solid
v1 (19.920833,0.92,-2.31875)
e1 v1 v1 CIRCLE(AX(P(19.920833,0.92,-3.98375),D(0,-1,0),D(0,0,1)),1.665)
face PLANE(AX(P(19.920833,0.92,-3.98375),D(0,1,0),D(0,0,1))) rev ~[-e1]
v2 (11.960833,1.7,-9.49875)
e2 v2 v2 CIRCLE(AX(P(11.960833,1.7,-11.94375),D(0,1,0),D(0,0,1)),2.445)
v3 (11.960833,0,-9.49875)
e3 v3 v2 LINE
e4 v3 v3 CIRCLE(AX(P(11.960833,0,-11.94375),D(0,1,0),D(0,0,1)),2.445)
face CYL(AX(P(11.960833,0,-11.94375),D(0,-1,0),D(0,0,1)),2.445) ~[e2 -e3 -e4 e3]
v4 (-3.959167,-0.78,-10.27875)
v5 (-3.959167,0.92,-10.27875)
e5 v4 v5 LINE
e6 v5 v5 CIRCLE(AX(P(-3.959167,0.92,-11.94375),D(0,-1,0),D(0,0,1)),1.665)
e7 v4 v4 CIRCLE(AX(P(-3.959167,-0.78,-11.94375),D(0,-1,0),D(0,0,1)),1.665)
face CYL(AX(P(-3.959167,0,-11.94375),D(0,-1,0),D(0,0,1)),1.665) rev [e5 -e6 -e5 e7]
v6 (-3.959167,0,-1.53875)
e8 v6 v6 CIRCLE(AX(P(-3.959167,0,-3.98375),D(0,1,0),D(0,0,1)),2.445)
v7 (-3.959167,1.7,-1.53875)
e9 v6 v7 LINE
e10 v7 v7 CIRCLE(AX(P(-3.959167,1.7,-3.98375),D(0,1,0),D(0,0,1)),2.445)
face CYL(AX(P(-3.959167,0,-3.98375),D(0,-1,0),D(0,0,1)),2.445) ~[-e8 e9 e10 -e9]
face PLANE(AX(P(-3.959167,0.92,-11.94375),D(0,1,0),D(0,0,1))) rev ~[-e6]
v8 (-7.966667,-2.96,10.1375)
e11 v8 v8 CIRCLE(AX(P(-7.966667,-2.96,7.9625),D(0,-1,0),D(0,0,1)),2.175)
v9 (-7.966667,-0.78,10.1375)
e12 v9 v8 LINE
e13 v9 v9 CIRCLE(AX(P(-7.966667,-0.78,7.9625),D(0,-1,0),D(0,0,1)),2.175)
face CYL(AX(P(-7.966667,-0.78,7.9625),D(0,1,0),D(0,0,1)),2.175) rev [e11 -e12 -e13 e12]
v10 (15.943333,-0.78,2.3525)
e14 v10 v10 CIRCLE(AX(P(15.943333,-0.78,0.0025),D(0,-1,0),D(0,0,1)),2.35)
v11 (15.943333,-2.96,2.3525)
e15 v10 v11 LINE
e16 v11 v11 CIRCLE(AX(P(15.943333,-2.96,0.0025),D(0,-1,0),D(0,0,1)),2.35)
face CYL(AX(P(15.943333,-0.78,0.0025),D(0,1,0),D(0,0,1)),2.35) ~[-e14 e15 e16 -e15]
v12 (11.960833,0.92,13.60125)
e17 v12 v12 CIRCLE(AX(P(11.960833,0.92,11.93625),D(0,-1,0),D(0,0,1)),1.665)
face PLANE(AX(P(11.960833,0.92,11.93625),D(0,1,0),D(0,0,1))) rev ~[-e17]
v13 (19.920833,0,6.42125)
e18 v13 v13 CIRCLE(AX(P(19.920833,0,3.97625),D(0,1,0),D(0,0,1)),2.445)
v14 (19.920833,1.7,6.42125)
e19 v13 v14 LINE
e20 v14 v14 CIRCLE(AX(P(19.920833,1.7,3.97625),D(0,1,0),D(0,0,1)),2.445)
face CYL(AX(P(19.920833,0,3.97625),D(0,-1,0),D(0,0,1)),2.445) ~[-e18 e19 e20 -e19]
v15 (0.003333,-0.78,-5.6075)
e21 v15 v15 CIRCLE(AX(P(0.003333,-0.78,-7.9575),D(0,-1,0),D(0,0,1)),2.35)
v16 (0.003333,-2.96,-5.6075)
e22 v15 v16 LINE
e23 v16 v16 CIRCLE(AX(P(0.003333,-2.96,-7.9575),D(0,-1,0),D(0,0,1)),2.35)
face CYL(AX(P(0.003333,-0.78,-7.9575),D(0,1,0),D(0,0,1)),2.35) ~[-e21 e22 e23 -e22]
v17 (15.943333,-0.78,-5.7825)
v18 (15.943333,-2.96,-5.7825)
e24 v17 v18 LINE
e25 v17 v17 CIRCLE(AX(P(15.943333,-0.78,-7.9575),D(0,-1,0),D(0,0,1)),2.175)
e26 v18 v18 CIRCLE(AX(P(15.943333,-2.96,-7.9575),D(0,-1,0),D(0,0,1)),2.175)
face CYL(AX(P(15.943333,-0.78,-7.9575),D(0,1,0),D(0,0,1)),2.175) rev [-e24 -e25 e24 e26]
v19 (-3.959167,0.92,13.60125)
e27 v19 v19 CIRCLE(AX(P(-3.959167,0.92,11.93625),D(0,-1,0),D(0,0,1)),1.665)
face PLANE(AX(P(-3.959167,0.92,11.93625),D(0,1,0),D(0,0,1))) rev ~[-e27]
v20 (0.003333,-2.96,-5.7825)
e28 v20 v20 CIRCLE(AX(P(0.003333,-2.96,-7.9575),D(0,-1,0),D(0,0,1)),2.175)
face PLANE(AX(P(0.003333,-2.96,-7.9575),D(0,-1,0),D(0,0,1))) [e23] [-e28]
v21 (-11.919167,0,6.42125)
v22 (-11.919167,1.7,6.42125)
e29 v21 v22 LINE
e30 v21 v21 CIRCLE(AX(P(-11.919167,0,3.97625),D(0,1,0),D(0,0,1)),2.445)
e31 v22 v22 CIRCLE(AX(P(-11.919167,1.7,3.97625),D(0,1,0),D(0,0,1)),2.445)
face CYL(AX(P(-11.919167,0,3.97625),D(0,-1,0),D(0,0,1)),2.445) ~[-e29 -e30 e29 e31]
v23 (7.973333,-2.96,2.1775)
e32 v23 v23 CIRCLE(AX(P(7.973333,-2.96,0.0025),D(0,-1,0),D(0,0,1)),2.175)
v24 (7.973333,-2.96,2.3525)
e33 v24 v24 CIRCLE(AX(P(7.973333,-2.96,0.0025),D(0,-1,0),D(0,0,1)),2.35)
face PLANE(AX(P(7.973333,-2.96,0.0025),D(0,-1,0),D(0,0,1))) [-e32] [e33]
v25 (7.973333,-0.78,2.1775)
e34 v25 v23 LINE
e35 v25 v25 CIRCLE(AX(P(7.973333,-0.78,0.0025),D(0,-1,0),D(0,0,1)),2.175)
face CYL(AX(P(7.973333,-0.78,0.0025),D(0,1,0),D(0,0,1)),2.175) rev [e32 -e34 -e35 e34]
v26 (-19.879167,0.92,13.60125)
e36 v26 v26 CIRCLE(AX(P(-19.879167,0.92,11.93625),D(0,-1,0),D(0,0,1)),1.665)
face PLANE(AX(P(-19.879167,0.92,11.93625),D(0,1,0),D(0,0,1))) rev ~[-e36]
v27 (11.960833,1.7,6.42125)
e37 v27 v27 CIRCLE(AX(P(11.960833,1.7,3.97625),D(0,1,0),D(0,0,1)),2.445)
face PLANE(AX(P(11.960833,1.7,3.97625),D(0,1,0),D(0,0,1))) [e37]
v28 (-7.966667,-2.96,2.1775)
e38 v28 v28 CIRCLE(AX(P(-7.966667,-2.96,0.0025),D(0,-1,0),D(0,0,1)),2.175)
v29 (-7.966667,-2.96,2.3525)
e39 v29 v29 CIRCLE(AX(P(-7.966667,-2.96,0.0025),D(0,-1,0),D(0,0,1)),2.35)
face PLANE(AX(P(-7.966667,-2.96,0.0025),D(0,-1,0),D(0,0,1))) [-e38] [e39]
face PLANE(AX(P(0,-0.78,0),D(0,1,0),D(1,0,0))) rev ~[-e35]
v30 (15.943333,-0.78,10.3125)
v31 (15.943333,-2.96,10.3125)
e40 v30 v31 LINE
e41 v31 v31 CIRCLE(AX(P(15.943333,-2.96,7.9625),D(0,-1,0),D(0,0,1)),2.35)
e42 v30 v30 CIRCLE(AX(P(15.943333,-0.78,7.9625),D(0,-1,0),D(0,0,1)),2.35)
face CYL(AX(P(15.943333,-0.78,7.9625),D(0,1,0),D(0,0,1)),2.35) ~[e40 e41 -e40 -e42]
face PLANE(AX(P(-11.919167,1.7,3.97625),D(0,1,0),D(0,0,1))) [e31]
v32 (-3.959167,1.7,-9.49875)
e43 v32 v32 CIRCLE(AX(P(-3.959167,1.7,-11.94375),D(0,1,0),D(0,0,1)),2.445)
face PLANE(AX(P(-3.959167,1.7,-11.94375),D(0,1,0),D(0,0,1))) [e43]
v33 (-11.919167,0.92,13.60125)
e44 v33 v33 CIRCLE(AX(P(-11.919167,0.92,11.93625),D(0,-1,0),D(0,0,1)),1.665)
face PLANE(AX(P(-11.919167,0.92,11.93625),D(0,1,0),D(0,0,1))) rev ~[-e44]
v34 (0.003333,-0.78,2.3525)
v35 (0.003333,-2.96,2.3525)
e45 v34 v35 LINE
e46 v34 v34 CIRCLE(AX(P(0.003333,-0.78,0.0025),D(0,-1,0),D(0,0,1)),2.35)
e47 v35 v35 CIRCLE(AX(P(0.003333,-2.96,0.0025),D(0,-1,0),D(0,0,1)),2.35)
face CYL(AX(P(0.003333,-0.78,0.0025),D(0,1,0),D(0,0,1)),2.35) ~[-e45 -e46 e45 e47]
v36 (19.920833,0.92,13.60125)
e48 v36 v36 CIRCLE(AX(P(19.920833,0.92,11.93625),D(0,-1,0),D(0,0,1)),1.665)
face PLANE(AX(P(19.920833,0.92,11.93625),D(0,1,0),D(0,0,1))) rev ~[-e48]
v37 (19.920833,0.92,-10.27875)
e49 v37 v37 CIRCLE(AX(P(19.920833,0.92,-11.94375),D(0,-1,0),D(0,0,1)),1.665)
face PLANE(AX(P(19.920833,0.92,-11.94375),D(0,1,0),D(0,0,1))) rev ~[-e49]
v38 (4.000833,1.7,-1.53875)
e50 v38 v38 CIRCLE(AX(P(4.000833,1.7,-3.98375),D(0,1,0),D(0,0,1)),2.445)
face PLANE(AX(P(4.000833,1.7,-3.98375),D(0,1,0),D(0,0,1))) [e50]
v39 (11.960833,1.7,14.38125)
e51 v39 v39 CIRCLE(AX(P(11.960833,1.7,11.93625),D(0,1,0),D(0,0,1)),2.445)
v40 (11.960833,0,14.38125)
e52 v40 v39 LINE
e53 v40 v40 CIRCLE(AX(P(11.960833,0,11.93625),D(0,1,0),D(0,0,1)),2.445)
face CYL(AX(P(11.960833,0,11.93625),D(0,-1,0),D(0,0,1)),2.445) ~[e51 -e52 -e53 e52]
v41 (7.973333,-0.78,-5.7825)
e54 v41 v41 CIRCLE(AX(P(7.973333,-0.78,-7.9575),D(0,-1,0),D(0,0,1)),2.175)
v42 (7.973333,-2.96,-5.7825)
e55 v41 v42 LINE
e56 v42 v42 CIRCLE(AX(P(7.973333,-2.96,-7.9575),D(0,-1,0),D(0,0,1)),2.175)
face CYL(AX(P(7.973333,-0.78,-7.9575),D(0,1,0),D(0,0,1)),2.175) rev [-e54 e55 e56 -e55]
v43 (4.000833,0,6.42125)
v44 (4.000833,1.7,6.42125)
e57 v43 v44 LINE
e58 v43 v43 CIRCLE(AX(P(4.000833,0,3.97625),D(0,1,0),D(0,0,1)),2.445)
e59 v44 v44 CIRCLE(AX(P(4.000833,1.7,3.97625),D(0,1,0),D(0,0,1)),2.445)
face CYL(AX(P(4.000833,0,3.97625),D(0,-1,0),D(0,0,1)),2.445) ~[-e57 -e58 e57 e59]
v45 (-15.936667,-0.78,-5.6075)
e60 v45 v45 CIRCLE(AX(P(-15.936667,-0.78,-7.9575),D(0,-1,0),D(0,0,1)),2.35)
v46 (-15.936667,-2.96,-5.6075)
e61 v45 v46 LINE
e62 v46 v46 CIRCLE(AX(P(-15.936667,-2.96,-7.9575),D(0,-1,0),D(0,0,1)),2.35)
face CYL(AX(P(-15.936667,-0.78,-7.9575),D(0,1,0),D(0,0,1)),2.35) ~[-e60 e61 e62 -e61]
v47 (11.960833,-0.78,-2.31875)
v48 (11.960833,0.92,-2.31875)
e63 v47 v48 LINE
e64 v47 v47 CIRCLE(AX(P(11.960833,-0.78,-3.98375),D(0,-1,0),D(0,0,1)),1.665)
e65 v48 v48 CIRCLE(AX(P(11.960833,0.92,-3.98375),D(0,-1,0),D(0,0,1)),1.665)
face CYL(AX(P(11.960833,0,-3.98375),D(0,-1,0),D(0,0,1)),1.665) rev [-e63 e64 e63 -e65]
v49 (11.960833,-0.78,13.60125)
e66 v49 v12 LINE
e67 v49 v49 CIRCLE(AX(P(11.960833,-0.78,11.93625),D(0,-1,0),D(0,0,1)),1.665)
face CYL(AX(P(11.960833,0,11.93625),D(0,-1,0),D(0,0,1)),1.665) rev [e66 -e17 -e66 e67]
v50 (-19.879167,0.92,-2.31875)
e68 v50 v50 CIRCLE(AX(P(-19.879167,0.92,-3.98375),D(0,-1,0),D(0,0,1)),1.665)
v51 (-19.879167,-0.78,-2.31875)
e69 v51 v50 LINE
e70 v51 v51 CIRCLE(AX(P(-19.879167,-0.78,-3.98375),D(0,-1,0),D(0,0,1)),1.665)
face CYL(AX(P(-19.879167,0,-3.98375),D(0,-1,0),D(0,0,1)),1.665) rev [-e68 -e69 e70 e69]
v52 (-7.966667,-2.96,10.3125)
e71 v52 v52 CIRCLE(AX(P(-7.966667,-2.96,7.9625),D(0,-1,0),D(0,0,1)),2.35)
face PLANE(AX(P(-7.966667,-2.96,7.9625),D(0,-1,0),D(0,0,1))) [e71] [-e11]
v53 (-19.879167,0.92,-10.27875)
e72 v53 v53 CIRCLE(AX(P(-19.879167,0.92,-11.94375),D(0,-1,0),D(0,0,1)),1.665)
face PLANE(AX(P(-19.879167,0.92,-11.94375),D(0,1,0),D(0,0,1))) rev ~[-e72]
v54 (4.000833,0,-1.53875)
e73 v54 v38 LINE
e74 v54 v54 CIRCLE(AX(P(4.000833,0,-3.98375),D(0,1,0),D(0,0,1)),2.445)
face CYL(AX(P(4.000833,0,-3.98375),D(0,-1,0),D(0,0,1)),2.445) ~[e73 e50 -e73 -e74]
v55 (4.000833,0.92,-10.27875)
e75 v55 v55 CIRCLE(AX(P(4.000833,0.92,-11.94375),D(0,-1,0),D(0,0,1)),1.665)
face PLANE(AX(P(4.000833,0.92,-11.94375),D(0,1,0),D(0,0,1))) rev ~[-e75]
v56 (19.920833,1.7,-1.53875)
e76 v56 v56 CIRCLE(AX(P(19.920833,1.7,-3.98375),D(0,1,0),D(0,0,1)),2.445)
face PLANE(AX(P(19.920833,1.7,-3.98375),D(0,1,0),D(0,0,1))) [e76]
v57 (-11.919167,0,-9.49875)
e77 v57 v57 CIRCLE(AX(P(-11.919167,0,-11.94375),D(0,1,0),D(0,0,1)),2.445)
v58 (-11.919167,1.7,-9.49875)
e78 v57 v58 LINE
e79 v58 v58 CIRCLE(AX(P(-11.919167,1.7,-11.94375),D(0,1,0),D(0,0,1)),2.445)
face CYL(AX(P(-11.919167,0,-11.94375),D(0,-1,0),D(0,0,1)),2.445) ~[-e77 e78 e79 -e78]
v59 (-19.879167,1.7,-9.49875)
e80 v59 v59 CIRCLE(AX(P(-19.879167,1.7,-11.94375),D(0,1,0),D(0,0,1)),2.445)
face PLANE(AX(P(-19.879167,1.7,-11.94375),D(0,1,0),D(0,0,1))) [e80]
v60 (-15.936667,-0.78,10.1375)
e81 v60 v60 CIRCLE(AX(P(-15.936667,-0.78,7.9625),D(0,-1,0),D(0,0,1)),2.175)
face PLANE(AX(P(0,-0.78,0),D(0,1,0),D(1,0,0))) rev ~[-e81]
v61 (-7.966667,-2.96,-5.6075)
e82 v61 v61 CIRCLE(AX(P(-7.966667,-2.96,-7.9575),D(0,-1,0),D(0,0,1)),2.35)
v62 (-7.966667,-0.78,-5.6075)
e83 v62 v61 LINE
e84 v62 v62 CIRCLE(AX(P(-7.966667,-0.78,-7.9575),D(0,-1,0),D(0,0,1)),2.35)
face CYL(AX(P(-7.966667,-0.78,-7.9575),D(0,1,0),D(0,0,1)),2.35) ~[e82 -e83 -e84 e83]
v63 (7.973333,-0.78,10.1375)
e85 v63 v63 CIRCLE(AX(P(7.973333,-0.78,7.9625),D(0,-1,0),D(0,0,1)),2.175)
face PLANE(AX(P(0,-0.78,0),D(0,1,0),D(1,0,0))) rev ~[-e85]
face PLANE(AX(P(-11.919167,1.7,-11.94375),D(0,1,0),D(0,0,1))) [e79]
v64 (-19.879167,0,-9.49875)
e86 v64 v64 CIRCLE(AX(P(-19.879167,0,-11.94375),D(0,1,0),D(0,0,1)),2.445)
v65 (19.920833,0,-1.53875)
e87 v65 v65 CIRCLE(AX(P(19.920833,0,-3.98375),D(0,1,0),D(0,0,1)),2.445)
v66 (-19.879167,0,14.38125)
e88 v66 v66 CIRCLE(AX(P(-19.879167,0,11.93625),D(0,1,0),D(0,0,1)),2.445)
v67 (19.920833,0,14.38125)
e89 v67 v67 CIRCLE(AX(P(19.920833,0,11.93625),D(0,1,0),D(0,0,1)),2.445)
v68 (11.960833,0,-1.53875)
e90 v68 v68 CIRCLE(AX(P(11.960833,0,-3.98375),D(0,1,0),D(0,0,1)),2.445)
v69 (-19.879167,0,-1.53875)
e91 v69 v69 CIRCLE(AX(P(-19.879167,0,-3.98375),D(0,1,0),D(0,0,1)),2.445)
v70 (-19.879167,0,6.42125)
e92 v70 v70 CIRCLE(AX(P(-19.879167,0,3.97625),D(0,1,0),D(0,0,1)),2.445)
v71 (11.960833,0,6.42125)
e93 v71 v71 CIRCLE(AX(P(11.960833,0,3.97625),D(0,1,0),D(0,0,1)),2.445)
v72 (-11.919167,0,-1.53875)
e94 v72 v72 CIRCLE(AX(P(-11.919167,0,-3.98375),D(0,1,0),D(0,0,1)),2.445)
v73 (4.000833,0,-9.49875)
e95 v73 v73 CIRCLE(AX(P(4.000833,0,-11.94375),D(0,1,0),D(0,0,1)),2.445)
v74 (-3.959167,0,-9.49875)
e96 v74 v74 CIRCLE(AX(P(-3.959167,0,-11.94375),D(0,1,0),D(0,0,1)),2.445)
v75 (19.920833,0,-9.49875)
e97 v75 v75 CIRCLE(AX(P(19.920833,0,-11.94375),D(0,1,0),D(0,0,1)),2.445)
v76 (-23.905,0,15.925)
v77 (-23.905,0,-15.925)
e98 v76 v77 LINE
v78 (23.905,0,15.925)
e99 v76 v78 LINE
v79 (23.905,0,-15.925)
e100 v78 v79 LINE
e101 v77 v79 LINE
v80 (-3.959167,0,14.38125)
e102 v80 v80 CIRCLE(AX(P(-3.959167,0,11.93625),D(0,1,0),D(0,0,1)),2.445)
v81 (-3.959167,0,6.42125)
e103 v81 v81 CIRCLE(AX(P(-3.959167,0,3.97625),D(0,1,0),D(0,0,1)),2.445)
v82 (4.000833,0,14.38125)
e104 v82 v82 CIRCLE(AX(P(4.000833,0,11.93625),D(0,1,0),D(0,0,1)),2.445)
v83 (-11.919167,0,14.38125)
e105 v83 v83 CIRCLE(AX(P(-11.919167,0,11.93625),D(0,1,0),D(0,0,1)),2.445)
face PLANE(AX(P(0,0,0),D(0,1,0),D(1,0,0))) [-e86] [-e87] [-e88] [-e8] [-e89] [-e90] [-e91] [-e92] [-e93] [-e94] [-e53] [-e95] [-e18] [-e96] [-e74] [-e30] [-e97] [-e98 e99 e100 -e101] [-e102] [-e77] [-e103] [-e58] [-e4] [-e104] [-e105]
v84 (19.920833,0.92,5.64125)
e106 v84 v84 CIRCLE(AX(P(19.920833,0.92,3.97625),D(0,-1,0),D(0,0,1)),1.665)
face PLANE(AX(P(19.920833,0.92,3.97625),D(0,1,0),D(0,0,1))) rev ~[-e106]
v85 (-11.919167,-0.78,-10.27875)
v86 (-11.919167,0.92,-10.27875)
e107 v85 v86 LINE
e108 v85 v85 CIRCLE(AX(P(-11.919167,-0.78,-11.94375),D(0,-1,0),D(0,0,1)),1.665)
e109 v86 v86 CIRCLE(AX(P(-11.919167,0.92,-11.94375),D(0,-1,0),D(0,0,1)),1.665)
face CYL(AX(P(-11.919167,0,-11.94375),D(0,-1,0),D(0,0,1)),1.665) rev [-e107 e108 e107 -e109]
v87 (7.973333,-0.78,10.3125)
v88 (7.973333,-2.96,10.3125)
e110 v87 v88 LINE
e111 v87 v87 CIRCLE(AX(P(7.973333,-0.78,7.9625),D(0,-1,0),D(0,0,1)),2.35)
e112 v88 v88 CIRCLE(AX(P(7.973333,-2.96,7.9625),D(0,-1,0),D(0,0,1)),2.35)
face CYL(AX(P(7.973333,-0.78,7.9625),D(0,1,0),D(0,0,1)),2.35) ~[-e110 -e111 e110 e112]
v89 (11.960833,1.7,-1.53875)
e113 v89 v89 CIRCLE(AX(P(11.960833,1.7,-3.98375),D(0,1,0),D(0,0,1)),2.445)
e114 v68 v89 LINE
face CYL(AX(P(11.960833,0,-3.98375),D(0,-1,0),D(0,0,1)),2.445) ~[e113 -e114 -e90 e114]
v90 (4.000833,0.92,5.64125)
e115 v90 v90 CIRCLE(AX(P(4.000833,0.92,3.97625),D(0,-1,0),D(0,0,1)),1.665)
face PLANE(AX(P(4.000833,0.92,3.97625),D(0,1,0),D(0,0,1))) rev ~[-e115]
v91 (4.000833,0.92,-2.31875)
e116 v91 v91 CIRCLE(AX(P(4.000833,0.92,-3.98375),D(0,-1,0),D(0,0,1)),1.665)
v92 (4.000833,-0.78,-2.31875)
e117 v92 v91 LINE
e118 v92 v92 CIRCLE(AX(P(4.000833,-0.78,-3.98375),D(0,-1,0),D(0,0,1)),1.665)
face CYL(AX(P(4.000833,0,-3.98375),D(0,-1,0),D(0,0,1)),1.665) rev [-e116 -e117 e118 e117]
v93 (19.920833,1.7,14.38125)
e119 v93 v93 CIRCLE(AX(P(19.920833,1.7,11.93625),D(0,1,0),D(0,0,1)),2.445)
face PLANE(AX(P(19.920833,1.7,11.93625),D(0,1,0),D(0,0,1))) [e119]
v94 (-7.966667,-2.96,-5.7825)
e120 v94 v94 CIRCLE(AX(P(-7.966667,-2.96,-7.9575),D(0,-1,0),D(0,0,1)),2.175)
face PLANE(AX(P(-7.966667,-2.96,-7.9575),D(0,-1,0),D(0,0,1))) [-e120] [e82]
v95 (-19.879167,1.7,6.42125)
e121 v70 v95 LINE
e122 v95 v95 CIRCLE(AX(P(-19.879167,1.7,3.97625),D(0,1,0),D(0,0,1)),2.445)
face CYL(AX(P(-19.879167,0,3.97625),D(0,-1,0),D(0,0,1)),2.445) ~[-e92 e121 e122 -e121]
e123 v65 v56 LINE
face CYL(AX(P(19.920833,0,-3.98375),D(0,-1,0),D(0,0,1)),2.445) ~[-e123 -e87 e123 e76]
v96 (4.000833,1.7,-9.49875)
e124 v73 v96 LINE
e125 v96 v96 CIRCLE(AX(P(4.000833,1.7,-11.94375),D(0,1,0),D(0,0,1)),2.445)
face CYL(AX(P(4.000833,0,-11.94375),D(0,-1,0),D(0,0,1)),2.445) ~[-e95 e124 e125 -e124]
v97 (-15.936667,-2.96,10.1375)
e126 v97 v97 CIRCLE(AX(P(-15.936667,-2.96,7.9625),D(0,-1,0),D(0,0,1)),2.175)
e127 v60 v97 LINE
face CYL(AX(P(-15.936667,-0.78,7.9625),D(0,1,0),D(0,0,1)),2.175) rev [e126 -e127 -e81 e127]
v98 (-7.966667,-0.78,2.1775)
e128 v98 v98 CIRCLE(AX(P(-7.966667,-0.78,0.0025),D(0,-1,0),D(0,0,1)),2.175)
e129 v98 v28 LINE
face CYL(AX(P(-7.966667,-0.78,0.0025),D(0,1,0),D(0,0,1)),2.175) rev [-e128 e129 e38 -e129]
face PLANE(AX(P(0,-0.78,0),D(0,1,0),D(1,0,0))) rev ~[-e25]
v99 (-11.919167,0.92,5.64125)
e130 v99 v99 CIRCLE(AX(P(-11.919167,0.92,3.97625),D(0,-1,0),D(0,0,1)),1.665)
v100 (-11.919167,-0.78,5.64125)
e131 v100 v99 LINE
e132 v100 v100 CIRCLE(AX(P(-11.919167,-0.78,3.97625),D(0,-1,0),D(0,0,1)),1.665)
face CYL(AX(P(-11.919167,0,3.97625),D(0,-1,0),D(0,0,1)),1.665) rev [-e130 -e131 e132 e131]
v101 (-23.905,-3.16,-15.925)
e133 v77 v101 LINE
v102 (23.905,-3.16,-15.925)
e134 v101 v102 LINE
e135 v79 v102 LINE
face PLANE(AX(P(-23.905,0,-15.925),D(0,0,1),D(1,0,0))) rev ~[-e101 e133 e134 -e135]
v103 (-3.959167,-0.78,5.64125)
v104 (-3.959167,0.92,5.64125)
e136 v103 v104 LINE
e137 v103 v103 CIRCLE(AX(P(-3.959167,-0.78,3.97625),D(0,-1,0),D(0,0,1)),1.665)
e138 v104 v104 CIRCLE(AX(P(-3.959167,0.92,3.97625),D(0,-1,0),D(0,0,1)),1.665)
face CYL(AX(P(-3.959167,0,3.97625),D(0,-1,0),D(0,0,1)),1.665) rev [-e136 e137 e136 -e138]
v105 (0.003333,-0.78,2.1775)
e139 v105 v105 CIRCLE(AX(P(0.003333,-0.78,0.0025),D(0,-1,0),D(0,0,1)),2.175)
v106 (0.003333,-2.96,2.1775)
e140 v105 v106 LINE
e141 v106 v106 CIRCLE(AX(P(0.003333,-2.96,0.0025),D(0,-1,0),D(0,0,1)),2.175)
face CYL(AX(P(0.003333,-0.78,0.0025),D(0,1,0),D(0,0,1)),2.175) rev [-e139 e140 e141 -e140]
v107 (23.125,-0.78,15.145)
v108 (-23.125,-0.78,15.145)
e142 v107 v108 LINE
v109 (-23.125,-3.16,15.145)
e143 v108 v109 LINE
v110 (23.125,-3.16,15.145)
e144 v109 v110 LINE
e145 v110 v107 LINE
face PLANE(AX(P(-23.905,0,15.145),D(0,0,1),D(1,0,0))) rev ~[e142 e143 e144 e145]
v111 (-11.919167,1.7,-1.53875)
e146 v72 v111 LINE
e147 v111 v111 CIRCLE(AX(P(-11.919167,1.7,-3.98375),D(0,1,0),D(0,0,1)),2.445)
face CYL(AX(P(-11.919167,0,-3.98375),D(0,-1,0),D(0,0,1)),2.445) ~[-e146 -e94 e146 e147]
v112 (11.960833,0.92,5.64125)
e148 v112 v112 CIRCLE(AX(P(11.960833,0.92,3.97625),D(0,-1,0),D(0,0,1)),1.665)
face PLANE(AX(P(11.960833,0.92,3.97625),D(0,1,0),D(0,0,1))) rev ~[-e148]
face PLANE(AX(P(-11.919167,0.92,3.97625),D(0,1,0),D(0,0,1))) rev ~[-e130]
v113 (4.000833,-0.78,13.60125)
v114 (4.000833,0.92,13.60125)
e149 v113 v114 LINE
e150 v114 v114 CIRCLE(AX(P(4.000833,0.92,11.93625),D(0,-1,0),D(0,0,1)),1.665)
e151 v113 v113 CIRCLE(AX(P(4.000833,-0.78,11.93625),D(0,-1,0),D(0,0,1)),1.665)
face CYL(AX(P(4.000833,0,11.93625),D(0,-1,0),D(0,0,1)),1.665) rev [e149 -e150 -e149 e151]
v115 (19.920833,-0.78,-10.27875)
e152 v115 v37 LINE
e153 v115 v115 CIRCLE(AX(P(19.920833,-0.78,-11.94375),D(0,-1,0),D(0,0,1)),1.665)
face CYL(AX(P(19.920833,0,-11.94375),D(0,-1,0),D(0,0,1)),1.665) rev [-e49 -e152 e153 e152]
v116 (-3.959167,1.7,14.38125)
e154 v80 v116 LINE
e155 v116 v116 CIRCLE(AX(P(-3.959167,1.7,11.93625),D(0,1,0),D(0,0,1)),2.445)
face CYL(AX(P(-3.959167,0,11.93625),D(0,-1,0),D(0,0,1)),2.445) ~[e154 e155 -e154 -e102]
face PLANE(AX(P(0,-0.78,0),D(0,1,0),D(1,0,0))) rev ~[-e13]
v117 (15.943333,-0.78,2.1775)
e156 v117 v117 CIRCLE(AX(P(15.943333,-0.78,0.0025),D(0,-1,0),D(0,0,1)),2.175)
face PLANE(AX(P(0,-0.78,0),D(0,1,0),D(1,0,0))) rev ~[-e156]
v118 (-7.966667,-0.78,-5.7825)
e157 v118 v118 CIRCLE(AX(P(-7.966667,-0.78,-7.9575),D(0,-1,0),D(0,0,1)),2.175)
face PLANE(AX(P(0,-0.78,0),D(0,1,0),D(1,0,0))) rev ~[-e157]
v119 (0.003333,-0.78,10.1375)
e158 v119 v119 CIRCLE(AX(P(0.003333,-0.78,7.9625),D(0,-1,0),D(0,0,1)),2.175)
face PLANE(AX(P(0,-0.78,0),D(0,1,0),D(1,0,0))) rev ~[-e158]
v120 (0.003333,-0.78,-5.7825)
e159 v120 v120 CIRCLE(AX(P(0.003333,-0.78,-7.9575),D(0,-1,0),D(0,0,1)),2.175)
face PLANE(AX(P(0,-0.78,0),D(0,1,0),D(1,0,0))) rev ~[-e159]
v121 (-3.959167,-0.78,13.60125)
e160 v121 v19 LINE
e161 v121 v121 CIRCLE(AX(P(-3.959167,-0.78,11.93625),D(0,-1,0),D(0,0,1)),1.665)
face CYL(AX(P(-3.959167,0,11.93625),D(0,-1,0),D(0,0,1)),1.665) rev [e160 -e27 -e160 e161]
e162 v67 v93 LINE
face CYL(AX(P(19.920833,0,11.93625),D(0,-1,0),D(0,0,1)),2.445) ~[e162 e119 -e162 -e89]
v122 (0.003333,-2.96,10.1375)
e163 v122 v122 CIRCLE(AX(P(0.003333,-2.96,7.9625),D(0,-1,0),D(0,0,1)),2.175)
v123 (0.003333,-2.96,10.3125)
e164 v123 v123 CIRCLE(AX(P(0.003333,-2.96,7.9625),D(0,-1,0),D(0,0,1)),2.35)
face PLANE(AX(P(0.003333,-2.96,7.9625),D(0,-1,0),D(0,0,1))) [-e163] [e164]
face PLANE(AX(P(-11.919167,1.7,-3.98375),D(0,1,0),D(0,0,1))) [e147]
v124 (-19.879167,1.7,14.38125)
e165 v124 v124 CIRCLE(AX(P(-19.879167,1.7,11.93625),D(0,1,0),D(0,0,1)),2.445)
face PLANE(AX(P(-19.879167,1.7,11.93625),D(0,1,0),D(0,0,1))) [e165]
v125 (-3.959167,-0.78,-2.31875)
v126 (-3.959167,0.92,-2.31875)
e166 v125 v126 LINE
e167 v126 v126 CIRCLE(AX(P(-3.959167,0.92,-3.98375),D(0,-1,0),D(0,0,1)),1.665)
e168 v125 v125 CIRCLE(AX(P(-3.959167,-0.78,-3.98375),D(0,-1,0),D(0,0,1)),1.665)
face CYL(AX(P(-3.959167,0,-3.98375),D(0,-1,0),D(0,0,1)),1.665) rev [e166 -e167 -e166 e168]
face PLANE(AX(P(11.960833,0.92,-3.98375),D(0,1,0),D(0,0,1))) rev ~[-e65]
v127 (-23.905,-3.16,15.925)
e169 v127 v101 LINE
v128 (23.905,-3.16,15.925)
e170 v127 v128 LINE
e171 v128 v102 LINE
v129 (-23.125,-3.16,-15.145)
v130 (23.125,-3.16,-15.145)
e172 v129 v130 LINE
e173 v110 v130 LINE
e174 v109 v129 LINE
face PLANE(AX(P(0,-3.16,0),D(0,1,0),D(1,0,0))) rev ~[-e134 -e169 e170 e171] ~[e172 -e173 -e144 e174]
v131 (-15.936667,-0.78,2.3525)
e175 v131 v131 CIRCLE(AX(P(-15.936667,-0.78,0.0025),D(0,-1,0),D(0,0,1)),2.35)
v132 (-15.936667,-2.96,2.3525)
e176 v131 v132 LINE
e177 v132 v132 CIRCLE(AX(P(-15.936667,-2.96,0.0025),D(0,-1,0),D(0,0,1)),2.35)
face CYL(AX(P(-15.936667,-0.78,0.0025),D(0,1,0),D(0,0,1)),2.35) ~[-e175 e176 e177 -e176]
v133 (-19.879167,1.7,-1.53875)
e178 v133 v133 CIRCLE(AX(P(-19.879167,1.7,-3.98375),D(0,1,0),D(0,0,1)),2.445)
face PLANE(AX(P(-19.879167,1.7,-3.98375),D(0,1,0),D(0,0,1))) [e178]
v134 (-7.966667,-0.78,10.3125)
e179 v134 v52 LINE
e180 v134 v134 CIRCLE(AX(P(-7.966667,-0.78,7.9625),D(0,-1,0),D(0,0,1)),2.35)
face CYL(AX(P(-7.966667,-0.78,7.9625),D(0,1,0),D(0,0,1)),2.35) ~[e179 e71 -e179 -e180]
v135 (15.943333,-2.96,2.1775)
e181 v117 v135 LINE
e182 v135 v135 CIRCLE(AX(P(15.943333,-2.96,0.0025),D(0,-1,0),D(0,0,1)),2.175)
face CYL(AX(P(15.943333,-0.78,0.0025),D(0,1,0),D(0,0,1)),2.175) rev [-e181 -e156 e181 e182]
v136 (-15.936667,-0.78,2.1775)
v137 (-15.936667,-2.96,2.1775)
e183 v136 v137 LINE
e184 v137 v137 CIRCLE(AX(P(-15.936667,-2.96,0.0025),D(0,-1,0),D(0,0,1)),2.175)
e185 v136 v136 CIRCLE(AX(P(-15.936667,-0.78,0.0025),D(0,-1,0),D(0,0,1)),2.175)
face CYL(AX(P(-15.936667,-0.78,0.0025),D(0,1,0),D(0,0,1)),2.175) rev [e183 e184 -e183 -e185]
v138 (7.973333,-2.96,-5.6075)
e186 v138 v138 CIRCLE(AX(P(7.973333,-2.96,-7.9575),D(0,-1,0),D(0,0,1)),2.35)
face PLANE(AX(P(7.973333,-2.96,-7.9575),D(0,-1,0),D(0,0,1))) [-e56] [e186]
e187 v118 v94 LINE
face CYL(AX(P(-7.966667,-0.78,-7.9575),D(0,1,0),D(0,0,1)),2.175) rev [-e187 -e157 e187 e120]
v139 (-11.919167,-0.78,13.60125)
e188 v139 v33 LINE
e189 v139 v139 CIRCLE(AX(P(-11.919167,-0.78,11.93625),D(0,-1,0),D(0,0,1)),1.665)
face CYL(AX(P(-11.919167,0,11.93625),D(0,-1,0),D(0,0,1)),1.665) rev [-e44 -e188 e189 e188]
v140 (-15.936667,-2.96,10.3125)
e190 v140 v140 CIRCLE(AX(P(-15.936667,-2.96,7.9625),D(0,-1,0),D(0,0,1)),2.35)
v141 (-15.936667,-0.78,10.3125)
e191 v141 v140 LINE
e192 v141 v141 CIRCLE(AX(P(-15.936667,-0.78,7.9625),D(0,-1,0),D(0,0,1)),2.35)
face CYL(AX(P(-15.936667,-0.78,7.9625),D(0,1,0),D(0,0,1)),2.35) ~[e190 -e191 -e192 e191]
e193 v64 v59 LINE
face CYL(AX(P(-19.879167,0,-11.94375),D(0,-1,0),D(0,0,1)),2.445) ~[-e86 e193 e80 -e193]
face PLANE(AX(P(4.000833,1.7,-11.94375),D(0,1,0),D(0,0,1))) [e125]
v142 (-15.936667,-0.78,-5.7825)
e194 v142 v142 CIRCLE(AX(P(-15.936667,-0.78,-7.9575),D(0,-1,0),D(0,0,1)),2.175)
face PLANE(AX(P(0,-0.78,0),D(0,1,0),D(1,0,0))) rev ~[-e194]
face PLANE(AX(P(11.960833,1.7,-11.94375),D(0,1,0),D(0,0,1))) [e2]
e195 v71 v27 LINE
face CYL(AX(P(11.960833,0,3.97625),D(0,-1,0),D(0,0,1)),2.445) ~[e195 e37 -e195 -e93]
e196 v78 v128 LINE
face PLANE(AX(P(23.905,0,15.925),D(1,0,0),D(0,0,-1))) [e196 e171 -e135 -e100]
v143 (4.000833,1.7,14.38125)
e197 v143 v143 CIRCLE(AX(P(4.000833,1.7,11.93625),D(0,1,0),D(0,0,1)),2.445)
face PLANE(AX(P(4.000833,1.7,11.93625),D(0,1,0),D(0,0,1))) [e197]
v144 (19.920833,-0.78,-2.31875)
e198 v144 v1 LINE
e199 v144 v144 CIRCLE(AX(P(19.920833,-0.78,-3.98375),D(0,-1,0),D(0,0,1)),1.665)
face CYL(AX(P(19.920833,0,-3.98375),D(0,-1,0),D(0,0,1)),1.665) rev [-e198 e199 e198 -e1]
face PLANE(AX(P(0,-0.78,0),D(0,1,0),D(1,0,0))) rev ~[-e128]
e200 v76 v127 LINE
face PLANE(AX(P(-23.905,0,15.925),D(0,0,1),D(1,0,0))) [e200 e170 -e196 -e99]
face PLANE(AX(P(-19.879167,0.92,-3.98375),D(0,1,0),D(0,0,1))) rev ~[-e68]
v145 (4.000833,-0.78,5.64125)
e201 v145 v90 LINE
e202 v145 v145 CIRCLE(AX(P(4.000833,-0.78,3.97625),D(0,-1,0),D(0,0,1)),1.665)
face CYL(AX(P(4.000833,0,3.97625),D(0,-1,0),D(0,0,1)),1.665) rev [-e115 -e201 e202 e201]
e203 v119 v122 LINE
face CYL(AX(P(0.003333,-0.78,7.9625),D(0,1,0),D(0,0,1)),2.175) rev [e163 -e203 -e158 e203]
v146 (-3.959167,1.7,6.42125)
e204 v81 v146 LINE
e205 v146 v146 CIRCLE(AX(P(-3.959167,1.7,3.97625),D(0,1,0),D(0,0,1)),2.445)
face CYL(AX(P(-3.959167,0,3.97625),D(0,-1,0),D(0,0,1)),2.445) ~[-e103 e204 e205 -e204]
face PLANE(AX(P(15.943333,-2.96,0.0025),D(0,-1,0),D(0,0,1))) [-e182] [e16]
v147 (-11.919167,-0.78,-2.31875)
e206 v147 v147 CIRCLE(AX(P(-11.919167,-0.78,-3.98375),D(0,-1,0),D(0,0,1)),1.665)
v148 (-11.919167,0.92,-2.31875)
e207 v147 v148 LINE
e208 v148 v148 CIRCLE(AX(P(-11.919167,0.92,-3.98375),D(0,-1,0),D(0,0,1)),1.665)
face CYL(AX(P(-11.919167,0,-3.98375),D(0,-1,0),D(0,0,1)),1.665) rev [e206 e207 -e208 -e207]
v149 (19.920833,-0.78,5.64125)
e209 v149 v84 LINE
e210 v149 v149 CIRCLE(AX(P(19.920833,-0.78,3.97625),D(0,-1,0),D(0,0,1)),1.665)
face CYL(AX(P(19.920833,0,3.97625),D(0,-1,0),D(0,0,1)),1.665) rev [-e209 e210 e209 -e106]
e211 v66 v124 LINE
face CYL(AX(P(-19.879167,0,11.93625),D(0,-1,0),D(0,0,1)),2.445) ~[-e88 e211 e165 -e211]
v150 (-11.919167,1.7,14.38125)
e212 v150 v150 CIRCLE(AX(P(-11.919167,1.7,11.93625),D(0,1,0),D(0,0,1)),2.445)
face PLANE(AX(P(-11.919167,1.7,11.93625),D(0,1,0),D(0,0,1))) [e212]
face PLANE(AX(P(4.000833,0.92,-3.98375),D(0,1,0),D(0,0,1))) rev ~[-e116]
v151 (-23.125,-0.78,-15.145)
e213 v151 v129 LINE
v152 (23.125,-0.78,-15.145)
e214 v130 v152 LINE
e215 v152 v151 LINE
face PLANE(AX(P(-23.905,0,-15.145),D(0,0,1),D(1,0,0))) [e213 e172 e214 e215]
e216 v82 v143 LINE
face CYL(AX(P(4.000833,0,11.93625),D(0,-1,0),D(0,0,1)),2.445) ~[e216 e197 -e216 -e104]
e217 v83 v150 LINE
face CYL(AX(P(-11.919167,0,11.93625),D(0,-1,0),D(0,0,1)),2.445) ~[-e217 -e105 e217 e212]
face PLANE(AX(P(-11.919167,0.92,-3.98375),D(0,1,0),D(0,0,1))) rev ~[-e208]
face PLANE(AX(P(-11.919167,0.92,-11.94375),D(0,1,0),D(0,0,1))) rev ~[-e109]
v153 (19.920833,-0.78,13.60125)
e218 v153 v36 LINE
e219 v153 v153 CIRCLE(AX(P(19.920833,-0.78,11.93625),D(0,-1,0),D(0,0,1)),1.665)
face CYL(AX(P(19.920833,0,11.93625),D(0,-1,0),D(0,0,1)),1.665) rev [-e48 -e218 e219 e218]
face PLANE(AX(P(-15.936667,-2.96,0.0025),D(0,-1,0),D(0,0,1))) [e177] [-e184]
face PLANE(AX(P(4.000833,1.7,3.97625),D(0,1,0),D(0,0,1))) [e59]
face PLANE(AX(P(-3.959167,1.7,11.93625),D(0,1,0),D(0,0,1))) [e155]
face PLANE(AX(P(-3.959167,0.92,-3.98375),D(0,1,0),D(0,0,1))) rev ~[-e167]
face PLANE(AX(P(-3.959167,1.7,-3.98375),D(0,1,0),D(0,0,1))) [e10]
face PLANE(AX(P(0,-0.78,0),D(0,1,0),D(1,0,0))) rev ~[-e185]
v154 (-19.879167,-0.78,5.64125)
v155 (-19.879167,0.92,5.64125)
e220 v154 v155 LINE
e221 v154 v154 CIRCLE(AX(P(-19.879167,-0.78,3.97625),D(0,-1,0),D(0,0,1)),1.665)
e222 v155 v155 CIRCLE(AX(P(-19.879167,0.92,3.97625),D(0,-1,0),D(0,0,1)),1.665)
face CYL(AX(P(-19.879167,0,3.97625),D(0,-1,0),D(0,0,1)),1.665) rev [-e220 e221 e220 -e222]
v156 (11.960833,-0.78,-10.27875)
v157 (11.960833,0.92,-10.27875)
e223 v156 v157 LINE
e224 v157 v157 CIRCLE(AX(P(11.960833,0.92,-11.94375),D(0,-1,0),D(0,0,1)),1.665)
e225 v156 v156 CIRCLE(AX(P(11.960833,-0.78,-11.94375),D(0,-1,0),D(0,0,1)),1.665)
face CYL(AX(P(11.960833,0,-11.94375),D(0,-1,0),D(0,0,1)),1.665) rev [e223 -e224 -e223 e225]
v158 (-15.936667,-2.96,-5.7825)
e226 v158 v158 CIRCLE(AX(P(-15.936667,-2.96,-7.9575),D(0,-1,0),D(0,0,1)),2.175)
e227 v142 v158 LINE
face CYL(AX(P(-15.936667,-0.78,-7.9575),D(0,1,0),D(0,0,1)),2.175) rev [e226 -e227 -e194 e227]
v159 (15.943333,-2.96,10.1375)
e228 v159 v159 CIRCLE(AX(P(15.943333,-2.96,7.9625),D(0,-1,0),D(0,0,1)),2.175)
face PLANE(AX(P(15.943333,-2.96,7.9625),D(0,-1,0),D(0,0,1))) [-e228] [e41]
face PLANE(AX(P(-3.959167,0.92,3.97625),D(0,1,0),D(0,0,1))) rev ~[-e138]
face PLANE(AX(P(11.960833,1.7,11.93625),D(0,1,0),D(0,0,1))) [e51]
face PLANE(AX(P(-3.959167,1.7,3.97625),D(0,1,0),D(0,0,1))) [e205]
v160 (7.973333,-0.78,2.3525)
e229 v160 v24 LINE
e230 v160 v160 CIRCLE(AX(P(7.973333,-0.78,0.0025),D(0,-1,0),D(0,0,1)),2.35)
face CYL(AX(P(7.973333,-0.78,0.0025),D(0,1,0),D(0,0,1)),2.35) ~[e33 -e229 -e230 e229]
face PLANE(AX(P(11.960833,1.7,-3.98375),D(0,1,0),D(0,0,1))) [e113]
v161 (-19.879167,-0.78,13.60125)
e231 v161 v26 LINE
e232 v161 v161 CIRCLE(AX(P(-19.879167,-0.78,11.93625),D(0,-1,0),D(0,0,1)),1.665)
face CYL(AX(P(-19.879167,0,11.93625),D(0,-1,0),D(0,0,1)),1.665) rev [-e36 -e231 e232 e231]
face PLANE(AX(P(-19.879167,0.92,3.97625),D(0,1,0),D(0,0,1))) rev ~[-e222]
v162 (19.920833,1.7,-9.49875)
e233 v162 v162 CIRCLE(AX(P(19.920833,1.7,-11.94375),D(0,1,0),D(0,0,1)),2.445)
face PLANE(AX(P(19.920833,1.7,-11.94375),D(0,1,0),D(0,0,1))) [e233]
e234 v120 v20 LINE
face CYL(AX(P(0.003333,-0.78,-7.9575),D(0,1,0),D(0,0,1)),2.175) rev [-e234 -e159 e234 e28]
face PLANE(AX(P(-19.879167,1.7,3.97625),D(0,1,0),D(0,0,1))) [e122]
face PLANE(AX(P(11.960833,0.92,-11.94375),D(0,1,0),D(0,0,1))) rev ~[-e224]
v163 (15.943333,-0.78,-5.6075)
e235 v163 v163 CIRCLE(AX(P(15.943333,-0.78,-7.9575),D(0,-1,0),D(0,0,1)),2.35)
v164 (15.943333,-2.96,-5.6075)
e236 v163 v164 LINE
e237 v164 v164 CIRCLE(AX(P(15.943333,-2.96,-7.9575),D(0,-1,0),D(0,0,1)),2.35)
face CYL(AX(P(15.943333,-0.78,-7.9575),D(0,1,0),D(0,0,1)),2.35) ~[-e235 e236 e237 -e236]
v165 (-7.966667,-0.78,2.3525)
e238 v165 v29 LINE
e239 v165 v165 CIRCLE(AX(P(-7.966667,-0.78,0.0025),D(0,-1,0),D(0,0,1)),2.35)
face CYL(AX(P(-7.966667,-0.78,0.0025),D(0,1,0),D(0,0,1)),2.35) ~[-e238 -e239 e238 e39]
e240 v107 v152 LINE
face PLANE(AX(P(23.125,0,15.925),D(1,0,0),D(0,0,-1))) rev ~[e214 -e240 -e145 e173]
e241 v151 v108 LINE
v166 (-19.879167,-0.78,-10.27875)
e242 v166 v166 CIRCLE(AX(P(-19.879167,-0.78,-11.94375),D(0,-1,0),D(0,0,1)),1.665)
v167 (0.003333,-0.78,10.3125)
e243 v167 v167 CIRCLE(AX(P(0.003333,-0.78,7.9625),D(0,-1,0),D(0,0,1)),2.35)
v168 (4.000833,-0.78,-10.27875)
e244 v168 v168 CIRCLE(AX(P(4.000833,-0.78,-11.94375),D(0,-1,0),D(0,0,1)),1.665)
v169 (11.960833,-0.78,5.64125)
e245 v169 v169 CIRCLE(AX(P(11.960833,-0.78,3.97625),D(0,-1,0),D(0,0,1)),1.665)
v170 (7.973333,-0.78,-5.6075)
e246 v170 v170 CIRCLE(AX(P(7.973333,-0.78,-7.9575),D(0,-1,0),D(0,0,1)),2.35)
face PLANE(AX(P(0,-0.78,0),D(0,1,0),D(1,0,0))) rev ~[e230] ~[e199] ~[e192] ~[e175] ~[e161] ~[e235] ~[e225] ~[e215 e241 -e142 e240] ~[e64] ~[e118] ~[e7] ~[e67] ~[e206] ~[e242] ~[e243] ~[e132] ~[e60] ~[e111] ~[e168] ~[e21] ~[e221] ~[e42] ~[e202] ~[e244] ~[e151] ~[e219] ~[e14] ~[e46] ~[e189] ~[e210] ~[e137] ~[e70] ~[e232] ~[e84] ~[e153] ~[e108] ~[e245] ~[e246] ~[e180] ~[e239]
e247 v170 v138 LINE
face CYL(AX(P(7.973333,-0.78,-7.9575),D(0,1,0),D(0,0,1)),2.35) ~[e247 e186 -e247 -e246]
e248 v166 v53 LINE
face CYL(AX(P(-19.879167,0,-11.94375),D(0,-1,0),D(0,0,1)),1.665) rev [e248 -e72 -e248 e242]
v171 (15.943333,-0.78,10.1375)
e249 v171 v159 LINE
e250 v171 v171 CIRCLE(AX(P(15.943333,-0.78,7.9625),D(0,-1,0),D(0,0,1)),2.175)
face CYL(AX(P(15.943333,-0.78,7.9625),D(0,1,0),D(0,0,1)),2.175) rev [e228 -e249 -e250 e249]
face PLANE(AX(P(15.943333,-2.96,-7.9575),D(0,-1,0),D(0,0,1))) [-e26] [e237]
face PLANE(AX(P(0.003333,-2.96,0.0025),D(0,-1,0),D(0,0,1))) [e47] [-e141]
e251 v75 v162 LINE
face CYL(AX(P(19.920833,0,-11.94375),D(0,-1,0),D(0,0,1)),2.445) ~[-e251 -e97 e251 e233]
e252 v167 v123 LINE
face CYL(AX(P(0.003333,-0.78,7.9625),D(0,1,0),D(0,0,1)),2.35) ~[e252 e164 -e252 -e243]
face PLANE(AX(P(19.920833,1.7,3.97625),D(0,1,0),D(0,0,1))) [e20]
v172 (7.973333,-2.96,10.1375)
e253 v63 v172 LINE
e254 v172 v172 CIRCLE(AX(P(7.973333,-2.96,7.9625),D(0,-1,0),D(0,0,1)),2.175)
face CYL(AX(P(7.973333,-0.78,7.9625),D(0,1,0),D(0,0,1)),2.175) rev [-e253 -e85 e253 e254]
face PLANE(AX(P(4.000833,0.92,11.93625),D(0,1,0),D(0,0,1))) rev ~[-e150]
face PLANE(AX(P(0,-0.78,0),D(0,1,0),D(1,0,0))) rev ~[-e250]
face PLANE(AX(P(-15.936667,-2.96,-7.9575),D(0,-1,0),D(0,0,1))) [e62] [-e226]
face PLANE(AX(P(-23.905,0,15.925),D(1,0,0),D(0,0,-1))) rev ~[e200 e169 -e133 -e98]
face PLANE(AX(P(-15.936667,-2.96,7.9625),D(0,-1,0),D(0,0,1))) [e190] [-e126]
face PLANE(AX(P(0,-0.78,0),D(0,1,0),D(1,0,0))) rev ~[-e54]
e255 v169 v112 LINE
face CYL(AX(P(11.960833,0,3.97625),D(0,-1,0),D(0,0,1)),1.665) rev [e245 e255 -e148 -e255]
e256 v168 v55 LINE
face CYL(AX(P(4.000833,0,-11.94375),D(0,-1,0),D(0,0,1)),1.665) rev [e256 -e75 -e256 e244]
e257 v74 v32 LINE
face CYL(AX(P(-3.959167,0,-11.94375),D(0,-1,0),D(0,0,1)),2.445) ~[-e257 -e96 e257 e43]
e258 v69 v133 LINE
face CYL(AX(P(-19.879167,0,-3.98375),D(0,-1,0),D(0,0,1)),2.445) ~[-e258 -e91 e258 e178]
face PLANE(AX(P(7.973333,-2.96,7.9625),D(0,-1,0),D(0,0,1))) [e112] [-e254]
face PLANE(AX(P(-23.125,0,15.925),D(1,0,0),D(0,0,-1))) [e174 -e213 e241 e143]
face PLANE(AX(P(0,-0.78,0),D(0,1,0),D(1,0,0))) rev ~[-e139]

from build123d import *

# Parameters (mm, degrees)
SKETCH1_W           = 47.81
SKETCH1_H           = 31.85
BOSS_EXTRUDE1_DEPTH = 3.16
SKETCH2_R           = 2.445
BOSS_EXTRUDE2_DEPTH = 1.7
SHELL1_T            = -0.78
SKETCH3_R           = 2.35
SKETCH3_R_2         = 2.175
BOSS_EXTRUDE3_DEPTH = 2.18


with BuildPart() as part:
    # Sketch1 → Boss-Extrude1 (new body)
    with BuildSketch(Plane(origin=(0, 0, 0), x_dir=(1, 0, 0), z_dir=(0, 1, 0))):
        Rectangle(SKETCH1_W, SKETCH1_H)
    extrude(amount=-BOSS_EXTRUDE1_DEPTH)

    # Sketch2 → Boss-Extrude2 (add)
    with BuildSketch(Plane(origin=(0, 0, 0), x_dir=(1, 0, 0), z_dir=(0, 1, 0))):
        with Locations(Location((19.920833333, 11.94375, 0), (0, 0, 270))):
            Circle(SKETCH2_R)
        with Locations(Location((11.960833333, 11.94375, 0), (0, 0, 270))):
            Circle(SKETCH2_R)
        with Locations(Location((4.000833333, 11.94375, 0), (0, 0, 270))):
            Circle(SKETCH2_R)
        with Locations(Location((-3.959166667, 11.94375, 0), (0, 0, 270))):
            Circle(SKETCH2_R)
        with Locations(Location((-11.919166667, 11.94375, 0), (0, 0, 270))):
            Circle(SKETCH2_R)
        with Locations(Location((-19.879166667, 11.94375, 0), (0, 0, 270))):
            Circle(SKETCH2_R)
        with Locations(Location((11.960833333, 3.98375, 0), (0, 0, 270))):
            Circle(SKETCH2_R)
        with Locations(Location((4.000833333, 3.98375, 0), (0, 0, 270))):
            Circle(SKETCH2_R)
        with Locations(Location((-3.959166667, 3.98375, 0), (0, 0, 270))):
            Circle(SKETCH2_R)
        with Locations(Location((-11.919166667, 3.98375, 0), (0, 0, 270))):
            Circle(SKETCH2_R)
        with Locations(Location((-19.879166667, 3.98375, 0), (0, 0, 270))):
            Circle(SKETCH2_R)
        with Locations(Location((11.960833333, -3.97625, 0), (0, 0, 270))):
            Circle(SKETCH2_R)
        with Locations(Location((4.000833333, -3.97625, 0), (0, 0, 270))):
            Circle(SKETCH2_R)
        with Locations(Location((-3.959166667, -3.97625, 0), (0, 0, 270))):
            Circle(SKETCH2_R)
        with Locations(Location((-11.919166667, -3.97625, 0), (0, 0, 270))):
            Circle(SKETCH2_R)
        with Locations(Location((-19.879166667, -3.97625, 0), (0, 0, 270))):
            Circle(SKETCH2_R)
        with Locations(Location((11.960833333, -11.93625, 0), (0, 0, 270))):
            Circle(SKETCH2_R)
        with Locations(Location((4.000833333, -11.93625, 0), (0, 0, 270))):
            Circle(SKETCH2_R)
        with Locations(Location((-3.959166667, -11.93625, 0), (0, 0, 270))):
            Circle(SKETCH2_R)
        with Locations(Location((-11.919166667, -11.93625, 0), (0, 0, 270))):
            Circle(SKETCH2_R)
        with Locations(Location((-19.879166667, -11.93625, 0), (0, 0, 270))):
            Circle(SKETCH2_R)
        with Locations(Location((19.920833333, 3.98375, 0), (0, 0, 270))):
            Circle(SKETCH2_R)
        with Locations(Location((19.920833333, -3.97625, 0), (0, 0, 270))):
            Circle(SKETCH2_R)
        with Locations(Location((19.920833333, -11.93625, 0), (0, 0, 270))):
            Circle(SKETCH2_R)
    extrude(amount=BOSS_EXTRUDE2_DEPTH)

    # Shell1
    shell1_openings = [part.faces().sort_by_distance(p)[0] for p in [
        (0, -3.16, 0),
    ]]
    offset(amount=SHELL1_T, openings=shell1_openings, kind=Kind.INTERSECTION)

    # Sketch3 → Boss-Extrude3 (add)
    # profile 1 of 15: a face of its own
    with BuildSketch(Plane.XZ.offset(0.78)):
        with Locations(Location((-15.936666667, 7.9625, 0), (0, 0, 90))):
            Circle(SKETCH3_R)
        with Locations(Location((-15.936666667, 7.9625, 0), (0, 0, 90))):
            Circle(SKETCH3_R_2, mode=Mode.SUBTRACT)
    # profile 2 of 15: a face of its own
    with BuildSketch(Plane.XZ.offset(0.78)):
        with Locations(Location((-7.966666667, 7.9625, 0), (0, 0, 90))):
            Circle(SKETCH3_R)
        with Locations(Location((-7.966666667, 7.9625, 0), (0, 0, 90))):
            Circle(SKETCH3_R_2, mode=Mode.SUBTRACT)
    # profile 3 of 15: a face of its own
    with BuildSketch(Plane.XZ.offset(0.78)):
        with Locations(Location((0.003333333, 7.9625, 0), (0, 0, 90))):
            Circle(SKETCH3_R)
        with Locations(Location((0.003333333, 7.9625, 0), (0, 0, 90))):
            Circle(SKETCH3_R_2, mode=Mode.SUBTRACT)
    # profile 4 of 15: a face of its own
    with BuildSketch(Plane.XZ.offset(0.78)):
        with Locations(Location((7.973333333, 7.9625, 0), (0, 0, 90))):
            Circle(SKETCH3_R)
        with Locations(Location((7.973333333, 7.9625, 0), (0, 0, 90))):
            Circle(SKETCH3_R_2, mode=Mode.SUBTRACT)
    # profile 5 of 15: a face of its own
    with BuildSketch(Plane.XZ.offset(0.78)):
        with Locations(Location((15.943333333, 7.9625, 0), (0, 0, 90))):
            Circle(SKETCH3_R)
        with Locations(Location((15.943333333, 7.9625, 0), (0, 0, 90))):
            Circle(SKETCH3_R_2, mode=Mode.SUBTRACT)
    # profile 6 of 15: a face of its own
    with BuildSketch(Plane.XZ.offset(0.78)):
        with Locations(Location((-7.966666667, 0.0025, 0), (0, 0, 90))):
            Circle(SKETCH3_R)
        with Locations(Location((-7.966666667, 0.0025, 0), (0, 0, 90))):
            Circle(SKETCH3_R_2, mode=Mode.SUBTRACT)
    # profile 7 of 15: a face of its own
    with BuildSketch(Plane.XZ.offset(0.78)):
        with Locations(Location((0.003333333, 0.0025, 0), (0, 0, 90))):
            Circle(SKETCH3_R)
        with Locations(Location((0.003333333, 0.0025, 0), (0, 0, 90))):
            Circle(SKETCH3_R_2, mode=Mode.SUBTRACT)
    # profile 8 of 15: a face of its own
    with BuildSketch(Plane.XZ.offset(0.78)):
        with Locations(Location((7.973333333, 0.0025, 0), (0, 0, 90))):
            Circle(SKETCH3_R)
        with Locations(Location((7.973333333, 0.0025, 0), (0, 0, 90))):
            Circle(SKETCH3_R_2, mode=Mode.SUBTRACT)
    # profile 9 of 15: a face of its own
    with BuildSketch(Plane.XZ.offset(0.78)):
        with Locations(Location((15.943333333, 0.0025, 0), (0, 0, 90))):
            Circle(SKETCH3_R)
        with Locations(Location((15.943333333, 0.0025, 0), (0, 0, 90))):
            Circle(SKETCH3_R_2, mode=Mode.SUBTRACT)
    # profile 10 of 15: a face of its own
    with BuildSketch(Plane.XZ.offset(0.78)):
        with Locations(Location((-7.966666667, -7.9575, 0), (0, 0, 90))):
            Circle(SKETCH3_R)
        with Locations(Location((-7.966666667, -7.9575, 0), (0, 0, 90))):
            Circle(SKETCH3_R_2, mode=Mode.SUBTRACT)
    # profile 11 of 15: a face of its own
    with BuildSketch(Plane.XZ.offset(0.78)):
        with Locations(Location((0.003333333, -7.9575, 0), (0, 0, 90))):
            Circle(SKETCH3_R)
        with Locations(Location((0.003333333, -7.9575, 0), (0, 0, 90))):
            Circle(SKETCH3_R_2, mode=Mode.SUBTRACT)
    # profile 12 of 15: a face of its own
    with BuildSketch(Plane.XZ.offset(0.78)):
        with Locations(Location((7.973333333, -7.9575, 0), (0, 0, 90))):
            Circle(SKETCH3_R)
        with Locations(Location((7.973333333, -7.9575, 0), (0, 0, 90))):
            Circle(SKETCH3_R_2, mode=Mode.SUBTRACT)
    # profile 13 of 15: a face of its own
    with BuildSketch(Plane.XZ.offset(0.78)):
        with Locations(Location((15.943333333, -7.9575, 0), (0, 0, 90))):
            Circle(SKETCH3_R)
        with Locations(Location((15.943333333, -7.9575, 0), (0, 0, 90))):
            Circle(SKETCH3_R_2, mode=Mode.SUBTRACT)
    # profile 14 of 15: a face of its own
    with BuildSketch(Plane.XZ.offset(0.78)):
        with Locations(Location((-15.936666667, 0.0025, 0), (0, 0, 90))):
            Circle(SKETCH3_R)
        with Locations(Location((-15.936666667, 0.0025, 0), (0, 0, 90))):
            Circle(SKETCH3_R_2, mode=Mode.SUBTRACT)
    # profile 15 of 15: a face of its own
    with BuildSketch(Plane.XZ.offset(0.78)):
        with Locations(Location((-15.936666667, -7.9575, 0), (0, 0, 90))):
            Circle(SKETCH3_R)
        with Locations(Location((-15.936666667, -7.9575, 0), (0, 0, 90))):
            Circle(SKETCH3_R_2, mode=Mode.SUBTRACT)
    extrude(amount=BOSS_EXTRUDE3_DEPTH)


solid = part.part
